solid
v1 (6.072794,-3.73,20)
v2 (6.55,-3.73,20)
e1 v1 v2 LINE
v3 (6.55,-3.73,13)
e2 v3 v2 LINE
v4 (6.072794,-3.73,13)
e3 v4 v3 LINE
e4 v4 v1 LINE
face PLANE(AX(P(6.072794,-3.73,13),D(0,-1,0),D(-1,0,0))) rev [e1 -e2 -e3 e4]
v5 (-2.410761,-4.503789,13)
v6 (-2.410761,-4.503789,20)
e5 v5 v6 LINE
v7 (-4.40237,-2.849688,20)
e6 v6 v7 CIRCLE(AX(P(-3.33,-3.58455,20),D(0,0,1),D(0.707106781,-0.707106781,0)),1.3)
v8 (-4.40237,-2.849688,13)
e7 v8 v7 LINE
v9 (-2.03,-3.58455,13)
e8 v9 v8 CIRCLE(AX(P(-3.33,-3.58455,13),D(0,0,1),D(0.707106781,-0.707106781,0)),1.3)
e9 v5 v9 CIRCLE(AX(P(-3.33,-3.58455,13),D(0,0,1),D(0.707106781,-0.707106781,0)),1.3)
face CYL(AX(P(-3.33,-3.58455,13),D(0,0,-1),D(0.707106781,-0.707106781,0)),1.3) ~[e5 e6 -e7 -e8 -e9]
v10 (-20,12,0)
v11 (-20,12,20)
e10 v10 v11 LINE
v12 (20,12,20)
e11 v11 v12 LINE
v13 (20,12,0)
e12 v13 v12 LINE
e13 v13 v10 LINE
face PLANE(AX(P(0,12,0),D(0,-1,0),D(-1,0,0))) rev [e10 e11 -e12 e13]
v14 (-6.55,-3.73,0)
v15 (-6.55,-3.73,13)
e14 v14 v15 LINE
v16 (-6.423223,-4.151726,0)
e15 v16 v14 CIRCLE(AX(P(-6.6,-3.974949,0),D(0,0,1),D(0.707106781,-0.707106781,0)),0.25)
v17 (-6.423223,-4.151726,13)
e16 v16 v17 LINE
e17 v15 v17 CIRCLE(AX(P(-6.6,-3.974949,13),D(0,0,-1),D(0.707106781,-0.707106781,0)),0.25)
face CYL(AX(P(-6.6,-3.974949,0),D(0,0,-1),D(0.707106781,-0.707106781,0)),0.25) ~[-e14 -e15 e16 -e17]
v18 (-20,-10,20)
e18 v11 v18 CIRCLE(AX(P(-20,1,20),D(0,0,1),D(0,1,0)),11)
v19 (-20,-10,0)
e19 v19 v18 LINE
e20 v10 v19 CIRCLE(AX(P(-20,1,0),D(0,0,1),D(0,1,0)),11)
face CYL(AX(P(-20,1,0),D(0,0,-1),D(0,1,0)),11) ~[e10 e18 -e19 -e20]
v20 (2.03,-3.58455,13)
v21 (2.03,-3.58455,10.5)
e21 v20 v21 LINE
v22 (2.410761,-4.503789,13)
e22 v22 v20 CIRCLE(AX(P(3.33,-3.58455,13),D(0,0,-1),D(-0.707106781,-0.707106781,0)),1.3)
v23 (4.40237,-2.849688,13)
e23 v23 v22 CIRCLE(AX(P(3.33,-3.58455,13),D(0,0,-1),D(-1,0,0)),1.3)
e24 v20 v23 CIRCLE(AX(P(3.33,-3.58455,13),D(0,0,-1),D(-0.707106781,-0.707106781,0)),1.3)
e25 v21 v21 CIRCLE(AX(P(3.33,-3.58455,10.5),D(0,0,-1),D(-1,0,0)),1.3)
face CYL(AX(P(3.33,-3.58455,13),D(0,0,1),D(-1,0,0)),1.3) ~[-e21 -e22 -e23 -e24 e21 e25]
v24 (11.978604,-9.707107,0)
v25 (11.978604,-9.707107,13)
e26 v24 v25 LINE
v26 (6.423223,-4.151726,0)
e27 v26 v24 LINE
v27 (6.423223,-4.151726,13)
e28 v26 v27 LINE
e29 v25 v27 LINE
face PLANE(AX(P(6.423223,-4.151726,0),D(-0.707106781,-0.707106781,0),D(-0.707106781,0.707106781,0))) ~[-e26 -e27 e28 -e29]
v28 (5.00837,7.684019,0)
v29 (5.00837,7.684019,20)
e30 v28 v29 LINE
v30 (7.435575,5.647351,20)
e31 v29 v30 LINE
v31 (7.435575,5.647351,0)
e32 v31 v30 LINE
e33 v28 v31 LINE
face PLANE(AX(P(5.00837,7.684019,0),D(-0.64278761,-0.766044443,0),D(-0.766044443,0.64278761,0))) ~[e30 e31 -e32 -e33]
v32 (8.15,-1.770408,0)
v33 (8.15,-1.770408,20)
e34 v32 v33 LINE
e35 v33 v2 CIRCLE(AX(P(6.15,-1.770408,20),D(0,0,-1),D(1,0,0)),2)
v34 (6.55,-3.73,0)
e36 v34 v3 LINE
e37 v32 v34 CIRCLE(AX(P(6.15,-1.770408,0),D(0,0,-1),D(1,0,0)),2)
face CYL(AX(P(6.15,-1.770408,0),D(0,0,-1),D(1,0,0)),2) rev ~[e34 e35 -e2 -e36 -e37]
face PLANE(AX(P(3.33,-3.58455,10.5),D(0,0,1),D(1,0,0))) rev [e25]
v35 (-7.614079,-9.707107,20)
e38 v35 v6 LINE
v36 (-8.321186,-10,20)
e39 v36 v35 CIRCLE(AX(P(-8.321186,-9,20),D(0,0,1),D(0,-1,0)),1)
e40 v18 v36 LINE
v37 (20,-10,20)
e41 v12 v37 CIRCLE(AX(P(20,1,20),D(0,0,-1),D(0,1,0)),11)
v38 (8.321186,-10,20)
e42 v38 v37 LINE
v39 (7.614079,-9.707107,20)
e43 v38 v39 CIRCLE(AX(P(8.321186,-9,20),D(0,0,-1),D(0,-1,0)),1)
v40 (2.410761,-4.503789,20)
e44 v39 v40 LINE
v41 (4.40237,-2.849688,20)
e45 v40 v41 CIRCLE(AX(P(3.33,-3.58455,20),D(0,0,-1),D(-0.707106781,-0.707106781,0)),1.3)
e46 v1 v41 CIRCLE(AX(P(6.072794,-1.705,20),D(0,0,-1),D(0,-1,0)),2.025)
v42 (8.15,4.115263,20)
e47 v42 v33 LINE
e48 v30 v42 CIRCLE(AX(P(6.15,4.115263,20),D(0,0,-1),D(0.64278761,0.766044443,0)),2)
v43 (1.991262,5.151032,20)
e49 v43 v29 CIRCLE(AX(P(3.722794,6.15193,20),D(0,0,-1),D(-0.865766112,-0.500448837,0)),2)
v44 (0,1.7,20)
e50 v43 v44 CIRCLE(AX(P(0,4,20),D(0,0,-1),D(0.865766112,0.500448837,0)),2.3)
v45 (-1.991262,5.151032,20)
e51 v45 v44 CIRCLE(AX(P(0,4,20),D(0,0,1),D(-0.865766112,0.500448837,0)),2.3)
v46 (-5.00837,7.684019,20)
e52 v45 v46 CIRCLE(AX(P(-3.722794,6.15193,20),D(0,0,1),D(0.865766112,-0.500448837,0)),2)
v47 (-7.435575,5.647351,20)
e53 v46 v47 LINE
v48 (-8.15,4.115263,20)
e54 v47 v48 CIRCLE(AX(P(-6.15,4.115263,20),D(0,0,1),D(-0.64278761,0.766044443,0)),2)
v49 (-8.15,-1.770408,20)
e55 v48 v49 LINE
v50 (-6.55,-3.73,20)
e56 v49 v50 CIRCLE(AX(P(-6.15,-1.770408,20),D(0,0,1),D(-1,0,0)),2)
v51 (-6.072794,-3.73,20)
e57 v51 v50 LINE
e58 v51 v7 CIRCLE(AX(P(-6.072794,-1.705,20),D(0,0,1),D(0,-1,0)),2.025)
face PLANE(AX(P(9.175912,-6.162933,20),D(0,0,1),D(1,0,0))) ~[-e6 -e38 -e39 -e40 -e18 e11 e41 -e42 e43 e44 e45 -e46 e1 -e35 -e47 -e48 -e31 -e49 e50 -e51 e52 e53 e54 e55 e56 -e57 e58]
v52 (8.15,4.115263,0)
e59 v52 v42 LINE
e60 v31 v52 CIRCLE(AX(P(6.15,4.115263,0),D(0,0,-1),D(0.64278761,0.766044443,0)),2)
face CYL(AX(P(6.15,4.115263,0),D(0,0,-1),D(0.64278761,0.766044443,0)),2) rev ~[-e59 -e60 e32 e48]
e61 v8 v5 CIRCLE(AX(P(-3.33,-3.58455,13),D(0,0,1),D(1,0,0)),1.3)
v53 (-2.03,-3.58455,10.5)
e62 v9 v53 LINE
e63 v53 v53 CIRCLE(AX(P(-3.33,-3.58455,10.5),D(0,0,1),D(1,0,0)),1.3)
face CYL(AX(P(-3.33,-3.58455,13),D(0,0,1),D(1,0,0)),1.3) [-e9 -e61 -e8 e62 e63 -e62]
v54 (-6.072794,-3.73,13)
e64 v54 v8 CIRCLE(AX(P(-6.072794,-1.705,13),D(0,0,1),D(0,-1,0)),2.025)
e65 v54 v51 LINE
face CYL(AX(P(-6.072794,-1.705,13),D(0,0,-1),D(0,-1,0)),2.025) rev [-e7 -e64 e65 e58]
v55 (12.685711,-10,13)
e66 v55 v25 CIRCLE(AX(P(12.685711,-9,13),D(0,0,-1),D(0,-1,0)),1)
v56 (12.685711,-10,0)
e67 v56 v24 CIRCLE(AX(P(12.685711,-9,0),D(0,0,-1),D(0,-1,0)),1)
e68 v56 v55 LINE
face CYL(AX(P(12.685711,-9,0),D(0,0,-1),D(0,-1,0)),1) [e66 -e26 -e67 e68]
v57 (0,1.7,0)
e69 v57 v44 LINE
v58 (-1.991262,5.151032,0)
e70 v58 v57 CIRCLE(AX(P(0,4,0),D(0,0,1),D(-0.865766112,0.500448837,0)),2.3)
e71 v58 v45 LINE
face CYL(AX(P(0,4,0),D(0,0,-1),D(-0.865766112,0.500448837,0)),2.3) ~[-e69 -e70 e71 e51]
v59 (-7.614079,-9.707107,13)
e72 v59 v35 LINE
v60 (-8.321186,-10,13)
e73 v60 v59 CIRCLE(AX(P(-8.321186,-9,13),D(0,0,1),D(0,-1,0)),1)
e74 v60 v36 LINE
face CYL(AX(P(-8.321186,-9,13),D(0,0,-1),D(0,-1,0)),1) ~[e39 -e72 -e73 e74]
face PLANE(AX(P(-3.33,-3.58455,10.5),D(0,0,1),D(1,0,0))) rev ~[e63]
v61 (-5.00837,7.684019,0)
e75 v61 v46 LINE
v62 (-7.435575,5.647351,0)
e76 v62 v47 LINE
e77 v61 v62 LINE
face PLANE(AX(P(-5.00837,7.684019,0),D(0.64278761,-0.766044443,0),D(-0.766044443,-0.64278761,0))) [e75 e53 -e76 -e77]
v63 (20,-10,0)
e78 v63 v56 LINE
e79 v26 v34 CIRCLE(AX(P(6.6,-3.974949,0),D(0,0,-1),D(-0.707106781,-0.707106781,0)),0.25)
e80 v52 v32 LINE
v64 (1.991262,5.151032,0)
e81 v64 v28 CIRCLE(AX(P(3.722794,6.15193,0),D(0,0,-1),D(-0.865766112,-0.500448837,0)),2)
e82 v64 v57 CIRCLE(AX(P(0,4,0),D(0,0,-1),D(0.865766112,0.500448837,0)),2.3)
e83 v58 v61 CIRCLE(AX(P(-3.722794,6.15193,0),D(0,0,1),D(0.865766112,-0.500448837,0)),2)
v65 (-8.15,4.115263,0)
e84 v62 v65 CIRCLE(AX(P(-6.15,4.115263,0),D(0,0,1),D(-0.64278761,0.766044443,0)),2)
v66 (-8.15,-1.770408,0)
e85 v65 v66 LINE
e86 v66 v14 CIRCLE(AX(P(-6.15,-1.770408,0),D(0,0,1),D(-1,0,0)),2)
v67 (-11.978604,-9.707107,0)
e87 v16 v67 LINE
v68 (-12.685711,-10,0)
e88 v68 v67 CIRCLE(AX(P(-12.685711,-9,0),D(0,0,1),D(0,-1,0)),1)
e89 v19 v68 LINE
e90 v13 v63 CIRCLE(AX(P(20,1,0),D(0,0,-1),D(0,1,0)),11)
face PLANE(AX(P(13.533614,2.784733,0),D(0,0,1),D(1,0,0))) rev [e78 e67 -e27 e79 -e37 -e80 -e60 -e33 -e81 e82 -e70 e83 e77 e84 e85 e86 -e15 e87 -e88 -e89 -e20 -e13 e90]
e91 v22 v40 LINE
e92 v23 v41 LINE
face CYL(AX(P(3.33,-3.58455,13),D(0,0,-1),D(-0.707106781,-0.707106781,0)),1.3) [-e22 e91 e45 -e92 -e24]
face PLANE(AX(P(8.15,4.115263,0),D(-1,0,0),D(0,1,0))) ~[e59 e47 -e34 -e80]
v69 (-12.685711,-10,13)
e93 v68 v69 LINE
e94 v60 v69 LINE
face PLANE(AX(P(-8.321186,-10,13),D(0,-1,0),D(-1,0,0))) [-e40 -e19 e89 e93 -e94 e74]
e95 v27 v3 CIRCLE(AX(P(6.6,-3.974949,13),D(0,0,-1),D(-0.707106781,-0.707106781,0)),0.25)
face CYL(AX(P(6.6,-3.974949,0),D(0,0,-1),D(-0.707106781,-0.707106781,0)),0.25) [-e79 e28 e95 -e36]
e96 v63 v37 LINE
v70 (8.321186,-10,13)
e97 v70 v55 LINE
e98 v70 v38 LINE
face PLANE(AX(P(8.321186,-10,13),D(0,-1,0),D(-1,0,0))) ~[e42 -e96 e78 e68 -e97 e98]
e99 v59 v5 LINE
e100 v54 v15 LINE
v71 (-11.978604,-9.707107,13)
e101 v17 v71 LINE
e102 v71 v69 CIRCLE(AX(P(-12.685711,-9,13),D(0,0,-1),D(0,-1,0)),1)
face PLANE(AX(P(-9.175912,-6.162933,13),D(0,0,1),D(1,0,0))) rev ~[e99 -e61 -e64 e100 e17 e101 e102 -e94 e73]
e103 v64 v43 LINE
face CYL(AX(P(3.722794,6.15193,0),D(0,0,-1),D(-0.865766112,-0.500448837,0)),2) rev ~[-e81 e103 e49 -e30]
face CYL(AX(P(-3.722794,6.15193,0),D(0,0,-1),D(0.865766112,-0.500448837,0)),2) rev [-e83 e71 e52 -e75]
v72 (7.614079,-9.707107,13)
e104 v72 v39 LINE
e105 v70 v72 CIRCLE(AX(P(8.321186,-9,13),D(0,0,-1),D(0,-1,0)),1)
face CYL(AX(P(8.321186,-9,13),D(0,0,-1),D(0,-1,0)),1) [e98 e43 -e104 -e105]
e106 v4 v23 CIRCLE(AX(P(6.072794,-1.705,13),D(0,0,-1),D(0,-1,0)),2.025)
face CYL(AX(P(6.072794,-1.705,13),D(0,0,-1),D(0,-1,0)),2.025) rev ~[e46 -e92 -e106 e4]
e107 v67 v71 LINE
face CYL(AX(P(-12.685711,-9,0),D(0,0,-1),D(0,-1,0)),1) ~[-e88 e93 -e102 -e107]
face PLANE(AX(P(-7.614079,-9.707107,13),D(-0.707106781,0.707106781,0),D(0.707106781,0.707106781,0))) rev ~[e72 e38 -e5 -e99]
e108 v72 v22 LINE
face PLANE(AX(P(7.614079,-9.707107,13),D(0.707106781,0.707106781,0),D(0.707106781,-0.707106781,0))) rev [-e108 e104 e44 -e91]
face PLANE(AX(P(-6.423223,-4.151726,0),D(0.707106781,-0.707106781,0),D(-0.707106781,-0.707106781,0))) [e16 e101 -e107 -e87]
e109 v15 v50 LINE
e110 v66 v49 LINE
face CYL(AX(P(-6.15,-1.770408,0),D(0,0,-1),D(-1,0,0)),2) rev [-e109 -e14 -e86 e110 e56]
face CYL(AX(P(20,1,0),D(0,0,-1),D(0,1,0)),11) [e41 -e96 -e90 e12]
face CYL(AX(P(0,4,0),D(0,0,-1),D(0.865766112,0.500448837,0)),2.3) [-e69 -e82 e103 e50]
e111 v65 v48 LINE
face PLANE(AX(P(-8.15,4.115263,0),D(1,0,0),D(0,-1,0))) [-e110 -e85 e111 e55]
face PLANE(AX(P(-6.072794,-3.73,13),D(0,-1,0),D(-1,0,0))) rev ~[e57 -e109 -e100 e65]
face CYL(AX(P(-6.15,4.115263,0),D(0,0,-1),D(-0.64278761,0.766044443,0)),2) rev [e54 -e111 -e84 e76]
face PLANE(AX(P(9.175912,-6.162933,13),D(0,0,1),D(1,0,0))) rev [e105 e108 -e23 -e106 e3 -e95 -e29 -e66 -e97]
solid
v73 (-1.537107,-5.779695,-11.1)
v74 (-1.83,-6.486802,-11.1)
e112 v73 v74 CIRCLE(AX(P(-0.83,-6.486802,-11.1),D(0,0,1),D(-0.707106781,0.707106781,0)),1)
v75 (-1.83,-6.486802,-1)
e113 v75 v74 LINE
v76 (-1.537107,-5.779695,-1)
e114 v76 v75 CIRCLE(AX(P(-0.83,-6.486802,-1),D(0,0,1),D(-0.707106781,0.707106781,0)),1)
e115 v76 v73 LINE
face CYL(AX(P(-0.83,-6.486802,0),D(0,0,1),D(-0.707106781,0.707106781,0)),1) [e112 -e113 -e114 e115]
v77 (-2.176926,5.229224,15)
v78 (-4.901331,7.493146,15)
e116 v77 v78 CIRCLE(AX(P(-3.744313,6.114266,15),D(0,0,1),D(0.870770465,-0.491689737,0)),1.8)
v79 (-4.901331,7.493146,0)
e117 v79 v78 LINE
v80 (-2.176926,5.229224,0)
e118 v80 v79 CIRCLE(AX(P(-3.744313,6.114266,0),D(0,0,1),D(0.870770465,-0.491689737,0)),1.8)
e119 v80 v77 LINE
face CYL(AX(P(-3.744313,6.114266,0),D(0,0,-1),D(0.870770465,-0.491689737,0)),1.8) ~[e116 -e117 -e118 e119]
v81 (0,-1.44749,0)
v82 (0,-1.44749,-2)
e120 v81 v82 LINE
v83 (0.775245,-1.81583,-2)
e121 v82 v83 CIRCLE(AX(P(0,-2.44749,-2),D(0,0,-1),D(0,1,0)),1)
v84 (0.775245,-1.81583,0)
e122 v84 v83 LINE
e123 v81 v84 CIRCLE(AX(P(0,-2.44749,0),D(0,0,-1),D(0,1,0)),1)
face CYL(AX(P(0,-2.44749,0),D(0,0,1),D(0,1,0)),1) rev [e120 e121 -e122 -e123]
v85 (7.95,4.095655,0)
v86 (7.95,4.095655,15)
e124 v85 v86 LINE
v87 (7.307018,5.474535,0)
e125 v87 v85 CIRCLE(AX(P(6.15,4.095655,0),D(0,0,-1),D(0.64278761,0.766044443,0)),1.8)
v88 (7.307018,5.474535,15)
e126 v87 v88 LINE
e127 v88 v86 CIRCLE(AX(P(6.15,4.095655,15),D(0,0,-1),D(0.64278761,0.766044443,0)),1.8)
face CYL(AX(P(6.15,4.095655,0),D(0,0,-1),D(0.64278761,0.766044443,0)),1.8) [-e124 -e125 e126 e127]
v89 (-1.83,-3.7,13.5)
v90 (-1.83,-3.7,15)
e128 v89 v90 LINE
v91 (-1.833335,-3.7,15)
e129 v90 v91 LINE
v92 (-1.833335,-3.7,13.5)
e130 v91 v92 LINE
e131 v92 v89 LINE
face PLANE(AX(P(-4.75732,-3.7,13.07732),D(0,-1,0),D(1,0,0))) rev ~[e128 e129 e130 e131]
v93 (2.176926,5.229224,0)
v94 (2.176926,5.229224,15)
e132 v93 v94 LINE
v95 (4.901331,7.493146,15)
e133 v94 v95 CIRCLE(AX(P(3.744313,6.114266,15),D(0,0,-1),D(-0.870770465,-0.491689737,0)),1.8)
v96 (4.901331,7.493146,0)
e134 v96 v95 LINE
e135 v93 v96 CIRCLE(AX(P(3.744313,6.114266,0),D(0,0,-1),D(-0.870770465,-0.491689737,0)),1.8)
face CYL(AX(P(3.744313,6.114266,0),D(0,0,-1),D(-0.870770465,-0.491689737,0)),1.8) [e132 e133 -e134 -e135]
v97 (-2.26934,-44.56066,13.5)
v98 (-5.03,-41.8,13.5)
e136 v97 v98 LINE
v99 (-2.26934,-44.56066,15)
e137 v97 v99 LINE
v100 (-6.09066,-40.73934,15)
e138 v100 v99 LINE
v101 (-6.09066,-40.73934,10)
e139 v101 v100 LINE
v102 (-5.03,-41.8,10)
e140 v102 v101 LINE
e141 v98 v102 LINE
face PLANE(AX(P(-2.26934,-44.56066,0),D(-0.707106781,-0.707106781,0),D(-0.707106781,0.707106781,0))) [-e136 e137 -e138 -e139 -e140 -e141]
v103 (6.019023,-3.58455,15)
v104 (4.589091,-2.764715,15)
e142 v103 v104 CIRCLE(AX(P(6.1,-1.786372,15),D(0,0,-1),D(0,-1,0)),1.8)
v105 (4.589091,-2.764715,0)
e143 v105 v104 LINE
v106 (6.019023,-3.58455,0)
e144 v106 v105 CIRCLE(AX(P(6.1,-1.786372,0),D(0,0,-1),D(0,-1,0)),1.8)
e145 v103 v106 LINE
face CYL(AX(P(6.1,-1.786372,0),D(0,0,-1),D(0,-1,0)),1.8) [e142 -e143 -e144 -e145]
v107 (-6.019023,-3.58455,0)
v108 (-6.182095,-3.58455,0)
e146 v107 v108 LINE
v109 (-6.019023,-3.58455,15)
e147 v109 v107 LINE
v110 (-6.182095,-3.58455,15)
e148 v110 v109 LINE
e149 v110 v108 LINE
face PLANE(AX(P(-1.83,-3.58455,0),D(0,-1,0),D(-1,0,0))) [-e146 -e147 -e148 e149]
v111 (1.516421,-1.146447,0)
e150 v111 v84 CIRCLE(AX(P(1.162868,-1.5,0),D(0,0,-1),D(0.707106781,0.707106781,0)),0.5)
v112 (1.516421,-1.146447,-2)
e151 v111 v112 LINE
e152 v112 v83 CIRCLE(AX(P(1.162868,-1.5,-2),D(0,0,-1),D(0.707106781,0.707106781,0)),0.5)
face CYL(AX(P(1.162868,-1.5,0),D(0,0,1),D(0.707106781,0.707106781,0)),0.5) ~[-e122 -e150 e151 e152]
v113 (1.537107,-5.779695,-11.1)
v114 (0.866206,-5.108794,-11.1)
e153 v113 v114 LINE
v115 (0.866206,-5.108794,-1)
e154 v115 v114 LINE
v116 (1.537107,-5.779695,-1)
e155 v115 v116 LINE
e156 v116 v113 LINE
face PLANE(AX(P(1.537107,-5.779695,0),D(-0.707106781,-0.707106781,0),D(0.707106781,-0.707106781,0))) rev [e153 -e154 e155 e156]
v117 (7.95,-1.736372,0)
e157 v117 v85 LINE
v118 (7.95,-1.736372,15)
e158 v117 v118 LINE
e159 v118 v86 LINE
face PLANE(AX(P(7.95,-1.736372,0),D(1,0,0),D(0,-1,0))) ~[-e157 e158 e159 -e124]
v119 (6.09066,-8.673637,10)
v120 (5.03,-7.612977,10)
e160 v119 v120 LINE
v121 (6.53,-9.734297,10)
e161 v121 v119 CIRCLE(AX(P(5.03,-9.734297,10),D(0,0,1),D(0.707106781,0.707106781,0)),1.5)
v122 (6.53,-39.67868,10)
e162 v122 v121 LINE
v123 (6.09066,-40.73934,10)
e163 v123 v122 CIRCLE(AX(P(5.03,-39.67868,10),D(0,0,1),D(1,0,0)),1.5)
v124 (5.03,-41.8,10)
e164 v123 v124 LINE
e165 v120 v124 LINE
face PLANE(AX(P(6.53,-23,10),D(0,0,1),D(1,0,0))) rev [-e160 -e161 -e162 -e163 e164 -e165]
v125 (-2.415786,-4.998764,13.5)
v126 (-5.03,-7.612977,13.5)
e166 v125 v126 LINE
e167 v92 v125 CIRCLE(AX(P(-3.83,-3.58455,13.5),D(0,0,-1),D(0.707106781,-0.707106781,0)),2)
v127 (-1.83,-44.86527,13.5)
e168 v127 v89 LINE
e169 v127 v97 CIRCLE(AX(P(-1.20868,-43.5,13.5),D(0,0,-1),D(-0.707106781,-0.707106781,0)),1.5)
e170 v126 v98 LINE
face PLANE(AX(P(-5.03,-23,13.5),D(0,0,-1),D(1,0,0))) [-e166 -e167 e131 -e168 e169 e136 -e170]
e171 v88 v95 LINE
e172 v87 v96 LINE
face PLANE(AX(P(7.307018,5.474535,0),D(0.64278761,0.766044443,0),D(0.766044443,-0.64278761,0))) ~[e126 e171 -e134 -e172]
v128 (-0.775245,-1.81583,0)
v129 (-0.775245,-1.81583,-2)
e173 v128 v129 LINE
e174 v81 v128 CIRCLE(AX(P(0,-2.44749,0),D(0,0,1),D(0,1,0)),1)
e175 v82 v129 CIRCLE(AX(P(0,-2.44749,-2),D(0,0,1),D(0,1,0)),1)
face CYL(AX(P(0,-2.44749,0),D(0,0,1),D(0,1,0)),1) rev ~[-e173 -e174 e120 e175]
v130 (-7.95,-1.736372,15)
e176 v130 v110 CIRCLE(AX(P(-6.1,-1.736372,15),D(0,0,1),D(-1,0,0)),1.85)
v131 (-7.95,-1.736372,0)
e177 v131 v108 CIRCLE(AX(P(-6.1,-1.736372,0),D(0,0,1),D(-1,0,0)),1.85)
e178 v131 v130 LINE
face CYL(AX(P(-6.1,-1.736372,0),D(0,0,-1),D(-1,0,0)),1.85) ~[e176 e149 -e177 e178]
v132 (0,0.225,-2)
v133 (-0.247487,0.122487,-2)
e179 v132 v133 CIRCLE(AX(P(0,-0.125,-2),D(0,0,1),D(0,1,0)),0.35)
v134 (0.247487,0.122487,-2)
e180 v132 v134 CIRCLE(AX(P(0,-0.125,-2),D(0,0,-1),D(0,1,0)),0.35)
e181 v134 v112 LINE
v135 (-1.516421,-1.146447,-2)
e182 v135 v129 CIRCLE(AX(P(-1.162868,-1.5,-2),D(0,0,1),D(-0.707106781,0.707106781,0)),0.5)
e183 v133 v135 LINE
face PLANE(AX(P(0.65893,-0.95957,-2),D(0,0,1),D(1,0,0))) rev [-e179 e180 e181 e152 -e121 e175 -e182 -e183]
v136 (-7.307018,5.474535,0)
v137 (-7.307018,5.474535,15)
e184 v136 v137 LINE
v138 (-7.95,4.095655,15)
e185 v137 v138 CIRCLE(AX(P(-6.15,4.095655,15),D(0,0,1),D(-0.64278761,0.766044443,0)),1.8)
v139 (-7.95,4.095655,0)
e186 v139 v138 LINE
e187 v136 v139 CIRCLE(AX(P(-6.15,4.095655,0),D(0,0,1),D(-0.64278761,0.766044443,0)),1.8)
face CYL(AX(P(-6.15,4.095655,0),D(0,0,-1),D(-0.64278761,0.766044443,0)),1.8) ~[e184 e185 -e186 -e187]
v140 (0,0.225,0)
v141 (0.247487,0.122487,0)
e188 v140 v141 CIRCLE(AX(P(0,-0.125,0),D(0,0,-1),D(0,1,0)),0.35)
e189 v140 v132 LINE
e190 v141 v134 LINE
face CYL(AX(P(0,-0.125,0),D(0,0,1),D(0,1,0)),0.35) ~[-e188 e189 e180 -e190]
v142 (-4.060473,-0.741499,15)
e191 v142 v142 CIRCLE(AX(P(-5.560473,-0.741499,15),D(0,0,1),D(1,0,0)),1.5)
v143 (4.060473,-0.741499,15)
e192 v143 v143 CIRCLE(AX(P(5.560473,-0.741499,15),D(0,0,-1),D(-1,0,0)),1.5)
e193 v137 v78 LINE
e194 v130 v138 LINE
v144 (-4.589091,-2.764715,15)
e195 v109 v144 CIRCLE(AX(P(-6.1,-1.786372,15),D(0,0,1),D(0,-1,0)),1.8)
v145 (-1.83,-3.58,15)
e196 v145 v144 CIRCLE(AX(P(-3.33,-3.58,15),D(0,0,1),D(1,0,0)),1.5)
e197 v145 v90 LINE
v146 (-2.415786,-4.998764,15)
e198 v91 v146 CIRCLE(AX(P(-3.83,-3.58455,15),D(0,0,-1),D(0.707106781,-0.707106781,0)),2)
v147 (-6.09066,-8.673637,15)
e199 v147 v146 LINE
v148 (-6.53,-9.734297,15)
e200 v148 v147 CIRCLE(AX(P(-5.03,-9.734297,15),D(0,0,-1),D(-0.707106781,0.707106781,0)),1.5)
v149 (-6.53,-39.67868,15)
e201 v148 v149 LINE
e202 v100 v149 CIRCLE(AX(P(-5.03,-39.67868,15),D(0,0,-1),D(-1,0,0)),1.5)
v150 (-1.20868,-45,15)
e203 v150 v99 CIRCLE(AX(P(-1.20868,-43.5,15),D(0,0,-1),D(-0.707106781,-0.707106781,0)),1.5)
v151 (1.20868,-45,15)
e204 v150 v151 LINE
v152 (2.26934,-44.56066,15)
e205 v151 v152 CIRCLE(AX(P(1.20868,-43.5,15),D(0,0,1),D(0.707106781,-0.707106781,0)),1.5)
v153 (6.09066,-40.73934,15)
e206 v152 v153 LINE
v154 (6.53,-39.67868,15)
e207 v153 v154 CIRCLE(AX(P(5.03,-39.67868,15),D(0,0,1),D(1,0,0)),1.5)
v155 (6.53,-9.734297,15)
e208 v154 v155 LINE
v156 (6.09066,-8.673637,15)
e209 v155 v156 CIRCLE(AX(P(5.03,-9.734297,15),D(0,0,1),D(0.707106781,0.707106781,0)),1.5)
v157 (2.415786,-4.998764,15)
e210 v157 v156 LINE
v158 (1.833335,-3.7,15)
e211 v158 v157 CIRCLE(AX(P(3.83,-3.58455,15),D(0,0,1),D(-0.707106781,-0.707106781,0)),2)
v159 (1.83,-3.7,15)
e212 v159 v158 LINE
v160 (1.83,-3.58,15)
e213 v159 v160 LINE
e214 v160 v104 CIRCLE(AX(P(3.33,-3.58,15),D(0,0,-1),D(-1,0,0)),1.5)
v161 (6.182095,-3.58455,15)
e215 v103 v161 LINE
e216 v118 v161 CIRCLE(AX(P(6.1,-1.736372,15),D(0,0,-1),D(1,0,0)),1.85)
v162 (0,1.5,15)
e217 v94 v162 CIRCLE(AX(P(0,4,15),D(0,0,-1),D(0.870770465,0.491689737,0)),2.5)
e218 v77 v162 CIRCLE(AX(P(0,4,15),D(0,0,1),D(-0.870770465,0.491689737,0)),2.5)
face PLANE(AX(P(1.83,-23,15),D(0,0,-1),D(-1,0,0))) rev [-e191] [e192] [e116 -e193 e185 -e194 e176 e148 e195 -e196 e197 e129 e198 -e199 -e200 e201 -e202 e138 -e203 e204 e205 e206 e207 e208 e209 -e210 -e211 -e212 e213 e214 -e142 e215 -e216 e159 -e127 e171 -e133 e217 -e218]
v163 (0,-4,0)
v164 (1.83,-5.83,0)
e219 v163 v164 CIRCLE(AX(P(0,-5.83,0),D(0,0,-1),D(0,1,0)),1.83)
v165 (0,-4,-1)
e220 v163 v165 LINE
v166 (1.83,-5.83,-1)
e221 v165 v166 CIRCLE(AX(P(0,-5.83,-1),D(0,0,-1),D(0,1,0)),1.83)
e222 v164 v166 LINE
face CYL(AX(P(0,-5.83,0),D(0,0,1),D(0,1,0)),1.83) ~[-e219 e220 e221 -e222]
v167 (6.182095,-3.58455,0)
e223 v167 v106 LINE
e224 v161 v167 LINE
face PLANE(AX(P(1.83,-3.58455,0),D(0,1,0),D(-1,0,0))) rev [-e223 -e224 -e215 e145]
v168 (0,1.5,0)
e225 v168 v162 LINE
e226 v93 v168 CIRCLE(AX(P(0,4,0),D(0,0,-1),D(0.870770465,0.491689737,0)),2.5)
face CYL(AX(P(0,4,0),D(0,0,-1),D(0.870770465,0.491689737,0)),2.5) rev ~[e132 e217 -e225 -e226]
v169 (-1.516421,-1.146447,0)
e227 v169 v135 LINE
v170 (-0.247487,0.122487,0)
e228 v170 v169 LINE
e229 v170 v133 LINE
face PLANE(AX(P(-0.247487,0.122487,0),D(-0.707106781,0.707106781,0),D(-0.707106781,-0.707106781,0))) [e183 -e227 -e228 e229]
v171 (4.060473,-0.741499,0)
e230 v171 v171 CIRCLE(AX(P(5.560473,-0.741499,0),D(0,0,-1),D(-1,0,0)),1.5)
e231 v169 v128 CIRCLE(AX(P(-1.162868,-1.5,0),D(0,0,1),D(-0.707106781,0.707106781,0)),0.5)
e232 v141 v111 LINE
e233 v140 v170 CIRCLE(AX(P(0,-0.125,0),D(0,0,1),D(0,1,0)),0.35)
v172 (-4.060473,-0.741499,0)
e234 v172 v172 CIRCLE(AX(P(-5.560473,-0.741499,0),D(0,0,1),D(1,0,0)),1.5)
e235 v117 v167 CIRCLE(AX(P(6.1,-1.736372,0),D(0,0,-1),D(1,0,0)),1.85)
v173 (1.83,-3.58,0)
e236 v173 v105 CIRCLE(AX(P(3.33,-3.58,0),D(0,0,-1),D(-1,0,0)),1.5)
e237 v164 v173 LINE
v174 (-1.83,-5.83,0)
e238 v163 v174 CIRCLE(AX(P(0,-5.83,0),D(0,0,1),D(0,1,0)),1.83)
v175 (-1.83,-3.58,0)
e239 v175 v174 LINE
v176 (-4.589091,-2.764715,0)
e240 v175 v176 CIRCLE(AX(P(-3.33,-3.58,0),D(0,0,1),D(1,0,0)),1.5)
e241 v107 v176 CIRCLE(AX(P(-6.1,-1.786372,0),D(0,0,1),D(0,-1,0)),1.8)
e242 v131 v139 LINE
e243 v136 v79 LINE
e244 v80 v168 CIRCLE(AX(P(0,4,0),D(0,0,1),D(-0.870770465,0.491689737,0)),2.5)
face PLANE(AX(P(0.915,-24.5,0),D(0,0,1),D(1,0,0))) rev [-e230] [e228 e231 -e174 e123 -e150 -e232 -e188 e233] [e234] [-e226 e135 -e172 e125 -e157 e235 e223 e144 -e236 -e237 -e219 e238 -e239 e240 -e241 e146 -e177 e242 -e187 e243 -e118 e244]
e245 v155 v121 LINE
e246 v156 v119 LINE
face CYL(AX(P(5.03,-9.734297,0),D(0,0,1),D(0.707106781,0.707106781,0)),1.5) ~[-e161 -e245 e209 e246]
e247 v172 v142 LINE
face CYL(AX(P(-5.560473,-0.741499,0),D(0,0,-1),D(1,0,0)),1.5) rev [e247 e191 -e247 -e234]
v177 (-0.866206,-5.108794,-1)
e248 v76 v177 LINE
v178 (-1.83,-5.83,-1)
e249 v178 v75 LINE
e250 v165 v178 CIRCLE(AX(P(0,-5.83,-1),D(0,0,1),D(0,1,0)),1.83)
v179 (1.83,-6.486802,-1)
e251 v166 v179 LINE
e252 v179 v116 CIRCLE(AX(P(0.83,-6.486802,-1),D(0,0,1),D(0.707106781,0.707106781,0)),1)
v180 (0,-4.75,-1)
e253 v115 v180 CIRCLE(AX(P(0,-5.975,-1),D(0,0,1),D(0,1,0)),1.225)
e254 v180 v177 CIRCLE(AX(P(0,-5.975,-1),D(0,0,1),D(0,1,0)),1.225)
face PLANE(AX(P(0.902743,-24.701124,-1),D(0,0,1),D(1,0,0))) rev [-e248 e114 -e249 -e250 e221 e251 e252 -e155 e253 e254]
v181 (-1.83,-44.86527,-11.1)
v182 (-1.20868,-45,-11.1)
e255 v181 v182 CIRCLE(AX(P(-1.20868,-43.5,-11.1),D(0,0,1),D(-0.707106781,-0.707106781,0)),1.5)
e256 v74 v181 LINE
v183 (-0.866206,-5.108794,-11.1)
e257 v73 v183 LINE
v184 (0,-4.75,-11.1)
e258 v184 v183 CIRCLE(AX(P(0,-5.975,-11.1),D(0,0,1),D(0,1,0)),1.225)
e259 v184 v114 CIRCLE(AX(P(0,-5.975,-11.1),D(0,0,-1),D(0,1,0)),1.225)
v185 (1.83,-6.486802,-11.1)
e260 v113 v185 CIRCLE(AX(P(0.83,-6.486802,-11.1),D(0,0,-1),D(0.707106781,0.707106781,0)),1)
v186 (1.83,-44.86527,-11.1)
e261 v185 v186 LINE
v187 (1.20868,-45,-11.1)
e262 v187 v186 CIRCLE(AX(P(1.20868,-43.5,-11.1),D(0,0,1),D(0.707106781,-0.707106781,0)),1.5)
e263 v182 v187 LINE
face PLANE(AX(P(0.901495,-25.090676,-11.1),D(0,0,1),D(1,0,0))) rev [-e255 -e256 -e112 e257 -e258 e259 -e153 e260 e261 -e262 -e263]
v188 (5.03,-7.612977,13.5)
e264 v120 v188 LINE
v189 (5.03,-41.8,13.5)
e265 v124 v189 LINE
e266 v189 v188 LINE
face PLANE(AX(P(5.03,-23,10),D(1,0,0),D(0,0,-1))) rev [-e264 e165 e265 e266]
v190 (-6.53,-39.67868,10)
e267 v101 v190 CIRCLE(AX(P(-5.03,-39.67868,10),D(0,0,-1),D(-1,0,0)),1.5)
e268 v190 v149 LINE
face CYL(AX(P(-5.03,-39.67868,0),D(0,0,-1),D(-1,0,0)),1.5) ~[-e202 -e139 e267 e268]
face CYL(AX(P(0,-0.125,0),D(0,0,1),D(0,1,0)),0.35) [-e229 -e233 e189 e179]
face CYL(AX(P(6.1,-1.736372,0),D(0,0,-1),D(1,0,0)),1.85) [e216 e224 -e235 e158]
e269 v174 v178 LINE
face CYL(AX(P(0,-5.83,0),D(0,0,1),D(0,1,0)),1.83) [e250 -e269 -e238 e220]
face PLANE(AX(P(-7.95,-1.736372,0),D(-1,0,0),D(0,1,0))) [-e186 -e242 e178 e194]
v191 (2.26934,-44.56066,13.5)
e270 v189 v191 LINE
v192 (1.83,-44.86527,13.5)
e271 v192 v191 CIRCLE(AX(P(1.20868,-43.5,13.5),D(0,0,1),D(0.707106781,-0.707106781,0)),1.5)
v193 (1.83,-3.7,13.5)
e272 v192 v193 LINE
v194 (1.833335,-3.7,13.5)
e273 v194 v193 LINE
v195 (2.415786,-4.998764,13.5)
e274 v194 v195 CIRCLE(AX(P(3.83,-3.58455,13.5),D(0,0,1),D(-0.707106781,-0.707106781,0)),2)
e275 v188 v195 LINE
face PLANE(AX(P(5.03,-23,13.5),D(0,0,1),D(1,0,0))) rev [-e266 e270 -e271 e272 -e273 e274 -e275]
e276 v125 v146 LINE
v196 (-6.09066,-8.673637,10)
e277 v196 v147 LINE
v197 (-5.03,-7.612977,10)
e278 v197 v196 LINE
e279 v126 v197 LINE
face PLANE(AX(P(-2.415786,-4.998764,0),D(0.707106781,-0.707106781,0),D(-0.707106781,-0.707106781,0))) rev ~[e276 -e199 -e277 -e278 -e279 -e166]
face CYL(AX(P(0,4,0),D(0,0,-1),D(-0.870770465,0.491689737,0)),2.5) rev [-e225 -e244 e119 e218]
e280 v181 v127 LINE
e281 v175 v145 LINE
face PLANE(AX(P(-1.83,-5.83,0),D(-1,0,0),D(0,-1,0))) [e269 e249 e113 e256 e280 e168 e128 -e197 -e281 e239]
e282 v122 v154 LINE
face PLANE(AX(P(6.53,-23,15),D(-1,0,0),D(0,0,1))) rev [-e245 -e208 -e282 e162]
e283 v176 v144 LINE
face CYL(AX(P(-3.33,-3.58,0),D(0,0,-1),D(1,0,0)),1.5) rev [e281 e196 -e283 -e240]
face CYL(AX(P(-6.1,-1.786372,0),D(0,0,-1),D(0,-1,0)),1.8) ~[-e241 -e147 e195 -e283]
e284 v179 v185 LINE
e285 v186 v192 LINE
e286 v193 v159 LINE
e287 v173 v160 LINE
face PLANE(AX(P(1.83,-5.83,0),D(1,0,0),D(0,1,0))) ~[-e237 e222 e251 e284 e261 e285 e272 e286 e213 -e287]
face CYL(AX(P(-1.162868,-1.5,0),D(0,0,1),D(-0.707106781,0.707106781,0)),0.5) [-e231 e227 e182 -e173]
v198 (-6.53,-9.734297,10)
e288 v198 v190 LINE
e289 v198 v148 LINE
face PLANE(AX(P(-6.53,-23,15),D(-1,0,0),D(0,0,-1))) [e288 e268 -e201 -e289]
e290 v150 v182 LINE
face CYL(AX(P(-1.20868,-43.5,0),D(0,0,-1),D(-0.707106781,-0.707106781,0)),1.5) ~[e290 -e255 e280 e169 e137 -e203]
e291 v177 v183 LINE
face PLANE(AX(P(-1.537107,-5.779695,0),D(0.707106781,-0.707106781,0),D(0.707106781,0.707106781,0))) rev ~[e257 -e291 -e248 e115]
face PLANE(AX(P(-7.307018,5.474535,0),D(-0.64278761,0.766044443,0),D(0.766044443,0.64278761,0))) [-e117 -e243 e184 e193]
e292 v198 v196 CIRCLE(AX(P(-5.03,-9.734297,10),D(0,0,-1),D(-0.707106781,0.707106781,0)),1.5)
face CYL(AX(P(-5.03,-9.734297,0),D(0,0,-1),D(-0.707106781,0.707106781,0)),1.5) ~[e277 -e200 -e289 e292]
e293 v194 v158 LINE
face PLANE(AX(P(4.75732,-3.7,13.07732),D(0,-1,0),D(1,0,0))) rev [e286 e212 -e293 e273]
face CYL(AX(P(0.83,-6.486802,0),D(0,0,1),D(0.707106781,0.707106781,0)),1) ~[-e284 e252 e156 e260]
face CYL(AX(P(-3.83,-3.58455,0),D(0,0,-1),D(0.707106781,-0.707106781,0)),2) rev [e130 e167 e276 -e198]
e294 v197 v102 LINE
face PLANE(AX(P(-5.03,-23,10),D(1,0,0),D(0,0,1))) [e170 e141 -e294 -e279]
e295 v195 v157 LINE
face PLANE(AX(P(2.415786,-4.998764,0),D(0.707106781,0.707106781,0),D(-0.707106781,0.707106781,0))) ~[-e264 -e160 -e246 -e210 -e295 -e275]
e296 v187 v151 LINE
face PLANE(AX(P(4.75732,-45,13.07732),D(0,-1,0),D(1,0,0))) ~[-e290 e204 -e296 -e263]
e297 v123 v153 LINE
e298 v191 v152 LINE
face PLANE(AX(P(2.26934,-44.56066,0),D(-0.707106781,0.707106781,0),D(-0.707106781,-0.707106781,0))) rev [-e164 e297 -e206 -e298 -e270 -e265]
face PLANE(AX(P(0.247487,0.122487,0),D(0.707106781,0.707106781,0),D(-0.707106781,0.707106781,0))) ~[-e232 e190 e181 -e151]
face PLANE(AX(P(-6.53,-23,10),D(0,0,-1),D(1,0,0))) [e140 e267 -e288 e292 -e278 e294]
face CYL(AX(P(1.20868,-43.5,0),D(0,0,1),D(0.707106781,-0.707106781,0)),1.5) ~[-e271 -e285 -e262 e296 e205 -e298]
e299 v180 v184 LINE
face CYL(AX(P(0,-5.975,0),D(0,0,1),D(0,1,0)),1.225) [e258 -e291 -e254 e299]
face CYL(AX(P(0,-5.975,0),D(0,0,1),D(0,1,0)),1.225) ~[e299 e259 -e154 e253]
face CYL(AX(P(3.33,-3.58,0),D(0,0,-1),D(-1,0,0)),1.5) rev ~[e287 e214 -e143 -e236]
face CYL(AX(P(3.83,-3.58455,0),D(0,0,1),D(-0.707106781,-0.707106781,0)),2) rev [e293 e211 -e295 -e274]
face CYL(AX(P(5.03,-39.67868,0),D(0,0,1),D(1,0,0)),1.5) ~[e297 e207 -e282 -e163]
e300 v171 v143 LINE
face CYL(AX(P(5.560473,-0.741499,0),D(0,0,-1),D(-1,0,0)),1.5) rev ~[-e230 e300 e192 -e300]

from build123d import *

# Parameters (mm, degrees)
SKETCH_R          = 1.5
PAD_DEPTH         = 15
PAD006_DEPTH      = 2
SKETCH005_W       = 1.83
SKETCH005_H       = 41
PAD005_DEPTH      = 15
PAD007_DEPTH      = 1
PAD008_DEPTH      = 11.1
PAD009_DEPTH      = 22
PAD009_DEPTH_BACK = 19.3
POCKET_DEPTH      = 133.3129393933
POCKET_DEPTH_BACK = 137.2129393933
PAD001_DEPTH      = 20
PAD002_DEPTH      = 7
SKETCH003_R       = 1.3
PAD003_DEPTH      = 2.5


with BuildPart() as body:
    # Sketch → Pad (new body)
    with BuildSketch(Plane.XY):
        with BuildLine():
            ThreePointArc((-1.83, -3.58), (-2.9049331603, -2.1414875107), (-4.5890909091, -2.7647147232))
            ThreePointArc((-6.1, -3.5863723909), (-5.2400628505, -3.3676718879), (-4.5890909091, -2.7647147232))
            ThreePointArc((-7.95, -1.7363723909), (-7.4081475452, -3.0445199361), (-6.1, -3.5863723909))
            Line((-7.95, -1.7363723909), (-7.95, 4.0956547944))
            ThreePointArc((-7.3070176974, 5.474534792), (-7.7813540167, 4.8563676655), (-7.95, 4.0956547944))
            Line((-7.3070176974, 5.474534792), (-4.9013306959, 7.4931458677))
            ThreePointArc((-2.1769261619, 5.2292243431), (-2.5939061683, 7.4986661464), (-4.9013306959, 7.4931458677))
            ThreePointArc((-2.1769261619, 5.2292243431), (-2.1590577641, 2.7396549793), (0, 1.5))
            Line((0, -4), (0, 1.5))
            Line((-1.83, -4), (0, -4))
            Line((-1.83, -3.58), (-1.83, -4))
        make_face()
        with Locations((-5.5604732033, -0.74149876)):
            Circle(SKETCH_R, mode=Mode.SUBTRACT)
    pad = extrude(amount=PAD_DEPTH)

    # Sketch006 → Pad006 (join)
    with BuildSketch(Plane.XY):
        with BuildLine():
            ThreePointArc((0, 0.225), (-0.1339392013, 0.1983578364), (-0.2474873734, 0.1224873734))
            Line((-0.2474873734, 0.1224873734), (-1.5164213562, -1.1464466094))
            ThreePointArc((-1.5164213562, -1.1464466094), (-1.4979929518, -1.8710677076), (-0.7752453104, -1.8158301397))
            ThreePointArc((0, -1.4474904192), (-0.4291501605, -1.5442572601), (-0.7752453104, -1.8158301397))
            Line((0, 0.225), (0, -1.4474904192))
        make_face()
    pad006 = extrude(amount=-PAD006_DEPTH)

    # Mirrored: Pad, Pad006 across Sketch V_Axis
    add(pad.mirror(Plane(origin=(0, 0, 0), x_dir=(0, 0, 1), z_dir=(1, 0, 0))))
    add(pad006.mirror(Plane(origin=(0, 0, 0), x_dir=(0, 0, 1), z_dir=(1, 0, 0))))

    # Sketch005 → Pad005 (join)
    with BuildSketch(Plane.XY):
        with Locations((-0.915, -24.5)):
            Rectangle(SKETCH005_W, SKETCH005_H)
    pad005 = extrude(amount=PAD005_DEPTH)

    # Sketch007 → Pad007 (join)
    with BuildSketch(Plane.XY):
        with BuildLine():
            ThreePointArc((0, -4), (-1.2940054096, -4.5359945904), (-1.83, -5.83))
            Line((-1.83, -5.83), (-1.83, -45))
            Line((-1.83, -45), (0, -45))
            Line((0, -4), (0, -45))
        make_face()
    pad007 = extrude(amount=-PAD007_DEPTH)

    # Sketch008 → Pad008 (join)
    with BuildSketch(Plane.XY):
        with BuildLine():
            ThreePointArc((0, -4.75), (-0.4687872046, -4.8432475727), (-0.866205807, -5.108794193))
            Line((-1.5371067812, -5.7796951673), (-0.866205807, -5.108794193))
            ThreePointArc((-1.5371067812, -5.7796951673), (-1.7538795325, -6.1041185161), (-1.83, -6.4868019485))
            Line((-1.83, -6.4868019485), (-1.83, -45))
            Line((-1.83, -45), (0, -45))
            Line((0, -4.75), (0, -45))
        make_face()
    pad008 = extrude(amount=-PAD008_DEPTH)

    # Mirrored002: Pad005, Pad007, Pad008 across Sketch004 V_Axis
    add(pad005.mirror(Plane(origin=(0, 0, 0), x_dir=(0, 0, 1), z_dir=(1, 0, 0))))
    add(pad007.mirror(Plane(origin=(0, 0, 0), x_dir=(0, 0, 1), z_dir=(1, 0, 0))))
    add(pad008.mirror(Plane(origin=(0, 0, 0), x_dir=(0, 0, 1), z_dir=(1, 0, 0))))

    # Sketch009 (on DatumPlane) → Pad009 (join, two sides)
    with BuildSketch(Plane.XZ.offset(23)) as pad009_sk:
        Polygon((-1.83, 15), (-6.53, 15), (-6.53, 10), (-5.03, 10), (-5.03, 13.5), (-1.83, 13.5), align=None)
    pad009 = extrude(amount=PAD009_DEPTH) + extrude(pad009_sk.sketch, amount=-PAD009_DEPTH_BACK)

    # Sketch010 → Pocket (cut, two sides)
    with BuildSketch(Plane.XY) as pocket_sk:
        with BuildLine():
            Line((-2.4157864376, -4.9987635624), (-6.0906601718, -8.6736372965))
            ThreePointArc((-6.0906601718, -8.6736372965), (-6.4158192988, -9.1602723198), (-6.53, -9.7342974683))
            Line((-6.53, -9.7342974683), (-6.53, -11.58455))
            Line((-6.53, -11.58455), (-7.83, -11.58455))
            Line((-7.83, -11.58455), (-7.83, -3.58455))
            Line((-1.83, -3.58455), (-7.83, -3.58455))
            ThreePointArc((-2.4157864376, -4.9987635624), (-1.982240935, -4.3499168647), (-1.83, -3.58455))
        make_face()
        with BuildLine():
            Line((0, -45), (-1.2086796564, -45))
            ThreePointArc((-2.2693398282, -44.5606601718), (-1.782704805, -44.8858192988), (-1.2086796564, -45))
            Line((-2.2693398282, -44.5606601718), (-6.0906601718, -40.7393398282))
            ThreePointArc((-6.53, -39.6786796564), (-6.4158192988, -40.252704805), (-6.0906601718, -40.7393398282))
            Line((-6.53, -39.6786796564), (-6.53, -38.47))
            Line((-6.53, -38.47), (-7.53, -38.47))
            Line((-7.53, -38.47), (-7.53, -46))
            Line((-7.53, -46), (0, -46))
            Line((0, -46), (0, -45))
        make_face()
    pocket = extrude(amount=-POCKET_DEPTH, mode=Mode.SUBTRACT) + extrude(pocket_sk.sketch, amount=POCKET_DEPTH_BACK, mode=Mode.SUBTRACT)

    # Mirrored003: Pad009, Pocket across Sketch009 V_Axis
    add(pad009.mirror(Plane(origin=(0, -23, 0), x_dir=(0, -1, 0), z_dir=(1, 0, 0))))
    add(pocket.mirror(Plane(origin=(0, -23, 0), x_dir=(0, -1, 0), z_dir=(1, 0, 0))), mode=Mode.SUBTRACT)


with BuildPart() as body001:
    # Sketch001 → Pad001 (new body)
    with BuildSketch(Plane.XY):
        with BuildLine():
            Line((0, 12), (-20, 12))
            ThreePointArc((-20, 12), (-31, 1), (-20, -10))
            Line((-20, -10), (-12.6857111975, -10))
            ThreePointArc((-12.6857111975, -10), (-12.3030277651, -9.9238795325), (-11.9786044163, -9.7071067812))
            Line((-6.4232233047, -4.1517256696), (-11.9786044163, -9.7071067812))
            ThreePointArc((-6.4232233047, -4.1517256696), (-6.3605839344, -3.902977122), (-6.55, -3.73))
            ThreePointArc((-8.15, -1.7704082058), (-7.6991933385, -3.0353192698), (-6.55, -3.73))
            Line((-8.15, 4.1152625783), (-8.15, -1.7704082058))
            ThreePointArc((-7.4355752194, 5.6473514645), (-7.9626155741, 4.9604991017), (-8.15, 4.1152625783))
            Line((-5.0083695026, 7.6840188862), (-7.4355752194, 5.6473514645))
            ThreePointArc((-1.9912620585, 5.1510323256), (-2.4368220278, 7.6836856457), (-5.0083695026, 7.6840188862))
            ThreePointArc((-1.9912620585, 5.1510323256), (-1.9921564131, 2.8505162787), (0, 1.7))
            Line((0, 12), (0, 1.7))
        make_face()
    pad001 = extrude(amount=PAD001_DEPTH)

    # Sketch002 (on DatumPlane) → Pad002 (join)
    with BuildSketch(Plane.XY.offset(13)):
        with BuildLine():
            ThreePointArc((-2.4107611845, -4.5037888155), (-2.4994132109, -2.584487209), (-4.4023704347, -2.8496883459))
            ThreePointArc((-6.0727936119, -3.73), (-5.1286985162, -3.4964545627), (-4.4023704347, -2.8496883459))
            Line((-6.0727936119, -3.73), (-15, -3.73))
            Line((-15, -10), (-15, -3.73))
            Line((-8.3211859313, -10), (-15, -10))
            ThreePointArc((-8.3211859313, -10), (-7.9385024989, -9.9238795325), (-7.6140791501, -9.7071067812))
            Line((-7.6140791501, -9.7071067812), (-2.4107611845, -4.5037888155))
        make_face()
    pad002 = extrude(amount=PAD002_DEPTH)

    # Sketch003 (on DatumPlane) → Pad003 (join)
    with BuildSketch(Plane.XY.offset(13)):
        with Locations((-3.33, -3.58455)):
            Circle(SKETCH003_R)
    pad003 = extrude(amount=-PAD003_DEPTH)

    # Mirrored001: Pad001, Pad002, Pad003 across Sketch001 V_Axis
    add(pad001.mirror(Plane(origin=(0, 0, 0), x_dir=(0, 0, 1), z_dir=(1, 0, 0))))
    add(pad002.mirror(Plane(origin=(0, 0, 0), x_dir=(0, 0, 1), z_dir=(1, 0, 0))))
    add(pad003.mirror(Plane(origin=(0, 0, 0), x_dir=(0, 0, 1), z_dir=(1, 0, 0))))


solid = Compound([body.part, body001.part])
